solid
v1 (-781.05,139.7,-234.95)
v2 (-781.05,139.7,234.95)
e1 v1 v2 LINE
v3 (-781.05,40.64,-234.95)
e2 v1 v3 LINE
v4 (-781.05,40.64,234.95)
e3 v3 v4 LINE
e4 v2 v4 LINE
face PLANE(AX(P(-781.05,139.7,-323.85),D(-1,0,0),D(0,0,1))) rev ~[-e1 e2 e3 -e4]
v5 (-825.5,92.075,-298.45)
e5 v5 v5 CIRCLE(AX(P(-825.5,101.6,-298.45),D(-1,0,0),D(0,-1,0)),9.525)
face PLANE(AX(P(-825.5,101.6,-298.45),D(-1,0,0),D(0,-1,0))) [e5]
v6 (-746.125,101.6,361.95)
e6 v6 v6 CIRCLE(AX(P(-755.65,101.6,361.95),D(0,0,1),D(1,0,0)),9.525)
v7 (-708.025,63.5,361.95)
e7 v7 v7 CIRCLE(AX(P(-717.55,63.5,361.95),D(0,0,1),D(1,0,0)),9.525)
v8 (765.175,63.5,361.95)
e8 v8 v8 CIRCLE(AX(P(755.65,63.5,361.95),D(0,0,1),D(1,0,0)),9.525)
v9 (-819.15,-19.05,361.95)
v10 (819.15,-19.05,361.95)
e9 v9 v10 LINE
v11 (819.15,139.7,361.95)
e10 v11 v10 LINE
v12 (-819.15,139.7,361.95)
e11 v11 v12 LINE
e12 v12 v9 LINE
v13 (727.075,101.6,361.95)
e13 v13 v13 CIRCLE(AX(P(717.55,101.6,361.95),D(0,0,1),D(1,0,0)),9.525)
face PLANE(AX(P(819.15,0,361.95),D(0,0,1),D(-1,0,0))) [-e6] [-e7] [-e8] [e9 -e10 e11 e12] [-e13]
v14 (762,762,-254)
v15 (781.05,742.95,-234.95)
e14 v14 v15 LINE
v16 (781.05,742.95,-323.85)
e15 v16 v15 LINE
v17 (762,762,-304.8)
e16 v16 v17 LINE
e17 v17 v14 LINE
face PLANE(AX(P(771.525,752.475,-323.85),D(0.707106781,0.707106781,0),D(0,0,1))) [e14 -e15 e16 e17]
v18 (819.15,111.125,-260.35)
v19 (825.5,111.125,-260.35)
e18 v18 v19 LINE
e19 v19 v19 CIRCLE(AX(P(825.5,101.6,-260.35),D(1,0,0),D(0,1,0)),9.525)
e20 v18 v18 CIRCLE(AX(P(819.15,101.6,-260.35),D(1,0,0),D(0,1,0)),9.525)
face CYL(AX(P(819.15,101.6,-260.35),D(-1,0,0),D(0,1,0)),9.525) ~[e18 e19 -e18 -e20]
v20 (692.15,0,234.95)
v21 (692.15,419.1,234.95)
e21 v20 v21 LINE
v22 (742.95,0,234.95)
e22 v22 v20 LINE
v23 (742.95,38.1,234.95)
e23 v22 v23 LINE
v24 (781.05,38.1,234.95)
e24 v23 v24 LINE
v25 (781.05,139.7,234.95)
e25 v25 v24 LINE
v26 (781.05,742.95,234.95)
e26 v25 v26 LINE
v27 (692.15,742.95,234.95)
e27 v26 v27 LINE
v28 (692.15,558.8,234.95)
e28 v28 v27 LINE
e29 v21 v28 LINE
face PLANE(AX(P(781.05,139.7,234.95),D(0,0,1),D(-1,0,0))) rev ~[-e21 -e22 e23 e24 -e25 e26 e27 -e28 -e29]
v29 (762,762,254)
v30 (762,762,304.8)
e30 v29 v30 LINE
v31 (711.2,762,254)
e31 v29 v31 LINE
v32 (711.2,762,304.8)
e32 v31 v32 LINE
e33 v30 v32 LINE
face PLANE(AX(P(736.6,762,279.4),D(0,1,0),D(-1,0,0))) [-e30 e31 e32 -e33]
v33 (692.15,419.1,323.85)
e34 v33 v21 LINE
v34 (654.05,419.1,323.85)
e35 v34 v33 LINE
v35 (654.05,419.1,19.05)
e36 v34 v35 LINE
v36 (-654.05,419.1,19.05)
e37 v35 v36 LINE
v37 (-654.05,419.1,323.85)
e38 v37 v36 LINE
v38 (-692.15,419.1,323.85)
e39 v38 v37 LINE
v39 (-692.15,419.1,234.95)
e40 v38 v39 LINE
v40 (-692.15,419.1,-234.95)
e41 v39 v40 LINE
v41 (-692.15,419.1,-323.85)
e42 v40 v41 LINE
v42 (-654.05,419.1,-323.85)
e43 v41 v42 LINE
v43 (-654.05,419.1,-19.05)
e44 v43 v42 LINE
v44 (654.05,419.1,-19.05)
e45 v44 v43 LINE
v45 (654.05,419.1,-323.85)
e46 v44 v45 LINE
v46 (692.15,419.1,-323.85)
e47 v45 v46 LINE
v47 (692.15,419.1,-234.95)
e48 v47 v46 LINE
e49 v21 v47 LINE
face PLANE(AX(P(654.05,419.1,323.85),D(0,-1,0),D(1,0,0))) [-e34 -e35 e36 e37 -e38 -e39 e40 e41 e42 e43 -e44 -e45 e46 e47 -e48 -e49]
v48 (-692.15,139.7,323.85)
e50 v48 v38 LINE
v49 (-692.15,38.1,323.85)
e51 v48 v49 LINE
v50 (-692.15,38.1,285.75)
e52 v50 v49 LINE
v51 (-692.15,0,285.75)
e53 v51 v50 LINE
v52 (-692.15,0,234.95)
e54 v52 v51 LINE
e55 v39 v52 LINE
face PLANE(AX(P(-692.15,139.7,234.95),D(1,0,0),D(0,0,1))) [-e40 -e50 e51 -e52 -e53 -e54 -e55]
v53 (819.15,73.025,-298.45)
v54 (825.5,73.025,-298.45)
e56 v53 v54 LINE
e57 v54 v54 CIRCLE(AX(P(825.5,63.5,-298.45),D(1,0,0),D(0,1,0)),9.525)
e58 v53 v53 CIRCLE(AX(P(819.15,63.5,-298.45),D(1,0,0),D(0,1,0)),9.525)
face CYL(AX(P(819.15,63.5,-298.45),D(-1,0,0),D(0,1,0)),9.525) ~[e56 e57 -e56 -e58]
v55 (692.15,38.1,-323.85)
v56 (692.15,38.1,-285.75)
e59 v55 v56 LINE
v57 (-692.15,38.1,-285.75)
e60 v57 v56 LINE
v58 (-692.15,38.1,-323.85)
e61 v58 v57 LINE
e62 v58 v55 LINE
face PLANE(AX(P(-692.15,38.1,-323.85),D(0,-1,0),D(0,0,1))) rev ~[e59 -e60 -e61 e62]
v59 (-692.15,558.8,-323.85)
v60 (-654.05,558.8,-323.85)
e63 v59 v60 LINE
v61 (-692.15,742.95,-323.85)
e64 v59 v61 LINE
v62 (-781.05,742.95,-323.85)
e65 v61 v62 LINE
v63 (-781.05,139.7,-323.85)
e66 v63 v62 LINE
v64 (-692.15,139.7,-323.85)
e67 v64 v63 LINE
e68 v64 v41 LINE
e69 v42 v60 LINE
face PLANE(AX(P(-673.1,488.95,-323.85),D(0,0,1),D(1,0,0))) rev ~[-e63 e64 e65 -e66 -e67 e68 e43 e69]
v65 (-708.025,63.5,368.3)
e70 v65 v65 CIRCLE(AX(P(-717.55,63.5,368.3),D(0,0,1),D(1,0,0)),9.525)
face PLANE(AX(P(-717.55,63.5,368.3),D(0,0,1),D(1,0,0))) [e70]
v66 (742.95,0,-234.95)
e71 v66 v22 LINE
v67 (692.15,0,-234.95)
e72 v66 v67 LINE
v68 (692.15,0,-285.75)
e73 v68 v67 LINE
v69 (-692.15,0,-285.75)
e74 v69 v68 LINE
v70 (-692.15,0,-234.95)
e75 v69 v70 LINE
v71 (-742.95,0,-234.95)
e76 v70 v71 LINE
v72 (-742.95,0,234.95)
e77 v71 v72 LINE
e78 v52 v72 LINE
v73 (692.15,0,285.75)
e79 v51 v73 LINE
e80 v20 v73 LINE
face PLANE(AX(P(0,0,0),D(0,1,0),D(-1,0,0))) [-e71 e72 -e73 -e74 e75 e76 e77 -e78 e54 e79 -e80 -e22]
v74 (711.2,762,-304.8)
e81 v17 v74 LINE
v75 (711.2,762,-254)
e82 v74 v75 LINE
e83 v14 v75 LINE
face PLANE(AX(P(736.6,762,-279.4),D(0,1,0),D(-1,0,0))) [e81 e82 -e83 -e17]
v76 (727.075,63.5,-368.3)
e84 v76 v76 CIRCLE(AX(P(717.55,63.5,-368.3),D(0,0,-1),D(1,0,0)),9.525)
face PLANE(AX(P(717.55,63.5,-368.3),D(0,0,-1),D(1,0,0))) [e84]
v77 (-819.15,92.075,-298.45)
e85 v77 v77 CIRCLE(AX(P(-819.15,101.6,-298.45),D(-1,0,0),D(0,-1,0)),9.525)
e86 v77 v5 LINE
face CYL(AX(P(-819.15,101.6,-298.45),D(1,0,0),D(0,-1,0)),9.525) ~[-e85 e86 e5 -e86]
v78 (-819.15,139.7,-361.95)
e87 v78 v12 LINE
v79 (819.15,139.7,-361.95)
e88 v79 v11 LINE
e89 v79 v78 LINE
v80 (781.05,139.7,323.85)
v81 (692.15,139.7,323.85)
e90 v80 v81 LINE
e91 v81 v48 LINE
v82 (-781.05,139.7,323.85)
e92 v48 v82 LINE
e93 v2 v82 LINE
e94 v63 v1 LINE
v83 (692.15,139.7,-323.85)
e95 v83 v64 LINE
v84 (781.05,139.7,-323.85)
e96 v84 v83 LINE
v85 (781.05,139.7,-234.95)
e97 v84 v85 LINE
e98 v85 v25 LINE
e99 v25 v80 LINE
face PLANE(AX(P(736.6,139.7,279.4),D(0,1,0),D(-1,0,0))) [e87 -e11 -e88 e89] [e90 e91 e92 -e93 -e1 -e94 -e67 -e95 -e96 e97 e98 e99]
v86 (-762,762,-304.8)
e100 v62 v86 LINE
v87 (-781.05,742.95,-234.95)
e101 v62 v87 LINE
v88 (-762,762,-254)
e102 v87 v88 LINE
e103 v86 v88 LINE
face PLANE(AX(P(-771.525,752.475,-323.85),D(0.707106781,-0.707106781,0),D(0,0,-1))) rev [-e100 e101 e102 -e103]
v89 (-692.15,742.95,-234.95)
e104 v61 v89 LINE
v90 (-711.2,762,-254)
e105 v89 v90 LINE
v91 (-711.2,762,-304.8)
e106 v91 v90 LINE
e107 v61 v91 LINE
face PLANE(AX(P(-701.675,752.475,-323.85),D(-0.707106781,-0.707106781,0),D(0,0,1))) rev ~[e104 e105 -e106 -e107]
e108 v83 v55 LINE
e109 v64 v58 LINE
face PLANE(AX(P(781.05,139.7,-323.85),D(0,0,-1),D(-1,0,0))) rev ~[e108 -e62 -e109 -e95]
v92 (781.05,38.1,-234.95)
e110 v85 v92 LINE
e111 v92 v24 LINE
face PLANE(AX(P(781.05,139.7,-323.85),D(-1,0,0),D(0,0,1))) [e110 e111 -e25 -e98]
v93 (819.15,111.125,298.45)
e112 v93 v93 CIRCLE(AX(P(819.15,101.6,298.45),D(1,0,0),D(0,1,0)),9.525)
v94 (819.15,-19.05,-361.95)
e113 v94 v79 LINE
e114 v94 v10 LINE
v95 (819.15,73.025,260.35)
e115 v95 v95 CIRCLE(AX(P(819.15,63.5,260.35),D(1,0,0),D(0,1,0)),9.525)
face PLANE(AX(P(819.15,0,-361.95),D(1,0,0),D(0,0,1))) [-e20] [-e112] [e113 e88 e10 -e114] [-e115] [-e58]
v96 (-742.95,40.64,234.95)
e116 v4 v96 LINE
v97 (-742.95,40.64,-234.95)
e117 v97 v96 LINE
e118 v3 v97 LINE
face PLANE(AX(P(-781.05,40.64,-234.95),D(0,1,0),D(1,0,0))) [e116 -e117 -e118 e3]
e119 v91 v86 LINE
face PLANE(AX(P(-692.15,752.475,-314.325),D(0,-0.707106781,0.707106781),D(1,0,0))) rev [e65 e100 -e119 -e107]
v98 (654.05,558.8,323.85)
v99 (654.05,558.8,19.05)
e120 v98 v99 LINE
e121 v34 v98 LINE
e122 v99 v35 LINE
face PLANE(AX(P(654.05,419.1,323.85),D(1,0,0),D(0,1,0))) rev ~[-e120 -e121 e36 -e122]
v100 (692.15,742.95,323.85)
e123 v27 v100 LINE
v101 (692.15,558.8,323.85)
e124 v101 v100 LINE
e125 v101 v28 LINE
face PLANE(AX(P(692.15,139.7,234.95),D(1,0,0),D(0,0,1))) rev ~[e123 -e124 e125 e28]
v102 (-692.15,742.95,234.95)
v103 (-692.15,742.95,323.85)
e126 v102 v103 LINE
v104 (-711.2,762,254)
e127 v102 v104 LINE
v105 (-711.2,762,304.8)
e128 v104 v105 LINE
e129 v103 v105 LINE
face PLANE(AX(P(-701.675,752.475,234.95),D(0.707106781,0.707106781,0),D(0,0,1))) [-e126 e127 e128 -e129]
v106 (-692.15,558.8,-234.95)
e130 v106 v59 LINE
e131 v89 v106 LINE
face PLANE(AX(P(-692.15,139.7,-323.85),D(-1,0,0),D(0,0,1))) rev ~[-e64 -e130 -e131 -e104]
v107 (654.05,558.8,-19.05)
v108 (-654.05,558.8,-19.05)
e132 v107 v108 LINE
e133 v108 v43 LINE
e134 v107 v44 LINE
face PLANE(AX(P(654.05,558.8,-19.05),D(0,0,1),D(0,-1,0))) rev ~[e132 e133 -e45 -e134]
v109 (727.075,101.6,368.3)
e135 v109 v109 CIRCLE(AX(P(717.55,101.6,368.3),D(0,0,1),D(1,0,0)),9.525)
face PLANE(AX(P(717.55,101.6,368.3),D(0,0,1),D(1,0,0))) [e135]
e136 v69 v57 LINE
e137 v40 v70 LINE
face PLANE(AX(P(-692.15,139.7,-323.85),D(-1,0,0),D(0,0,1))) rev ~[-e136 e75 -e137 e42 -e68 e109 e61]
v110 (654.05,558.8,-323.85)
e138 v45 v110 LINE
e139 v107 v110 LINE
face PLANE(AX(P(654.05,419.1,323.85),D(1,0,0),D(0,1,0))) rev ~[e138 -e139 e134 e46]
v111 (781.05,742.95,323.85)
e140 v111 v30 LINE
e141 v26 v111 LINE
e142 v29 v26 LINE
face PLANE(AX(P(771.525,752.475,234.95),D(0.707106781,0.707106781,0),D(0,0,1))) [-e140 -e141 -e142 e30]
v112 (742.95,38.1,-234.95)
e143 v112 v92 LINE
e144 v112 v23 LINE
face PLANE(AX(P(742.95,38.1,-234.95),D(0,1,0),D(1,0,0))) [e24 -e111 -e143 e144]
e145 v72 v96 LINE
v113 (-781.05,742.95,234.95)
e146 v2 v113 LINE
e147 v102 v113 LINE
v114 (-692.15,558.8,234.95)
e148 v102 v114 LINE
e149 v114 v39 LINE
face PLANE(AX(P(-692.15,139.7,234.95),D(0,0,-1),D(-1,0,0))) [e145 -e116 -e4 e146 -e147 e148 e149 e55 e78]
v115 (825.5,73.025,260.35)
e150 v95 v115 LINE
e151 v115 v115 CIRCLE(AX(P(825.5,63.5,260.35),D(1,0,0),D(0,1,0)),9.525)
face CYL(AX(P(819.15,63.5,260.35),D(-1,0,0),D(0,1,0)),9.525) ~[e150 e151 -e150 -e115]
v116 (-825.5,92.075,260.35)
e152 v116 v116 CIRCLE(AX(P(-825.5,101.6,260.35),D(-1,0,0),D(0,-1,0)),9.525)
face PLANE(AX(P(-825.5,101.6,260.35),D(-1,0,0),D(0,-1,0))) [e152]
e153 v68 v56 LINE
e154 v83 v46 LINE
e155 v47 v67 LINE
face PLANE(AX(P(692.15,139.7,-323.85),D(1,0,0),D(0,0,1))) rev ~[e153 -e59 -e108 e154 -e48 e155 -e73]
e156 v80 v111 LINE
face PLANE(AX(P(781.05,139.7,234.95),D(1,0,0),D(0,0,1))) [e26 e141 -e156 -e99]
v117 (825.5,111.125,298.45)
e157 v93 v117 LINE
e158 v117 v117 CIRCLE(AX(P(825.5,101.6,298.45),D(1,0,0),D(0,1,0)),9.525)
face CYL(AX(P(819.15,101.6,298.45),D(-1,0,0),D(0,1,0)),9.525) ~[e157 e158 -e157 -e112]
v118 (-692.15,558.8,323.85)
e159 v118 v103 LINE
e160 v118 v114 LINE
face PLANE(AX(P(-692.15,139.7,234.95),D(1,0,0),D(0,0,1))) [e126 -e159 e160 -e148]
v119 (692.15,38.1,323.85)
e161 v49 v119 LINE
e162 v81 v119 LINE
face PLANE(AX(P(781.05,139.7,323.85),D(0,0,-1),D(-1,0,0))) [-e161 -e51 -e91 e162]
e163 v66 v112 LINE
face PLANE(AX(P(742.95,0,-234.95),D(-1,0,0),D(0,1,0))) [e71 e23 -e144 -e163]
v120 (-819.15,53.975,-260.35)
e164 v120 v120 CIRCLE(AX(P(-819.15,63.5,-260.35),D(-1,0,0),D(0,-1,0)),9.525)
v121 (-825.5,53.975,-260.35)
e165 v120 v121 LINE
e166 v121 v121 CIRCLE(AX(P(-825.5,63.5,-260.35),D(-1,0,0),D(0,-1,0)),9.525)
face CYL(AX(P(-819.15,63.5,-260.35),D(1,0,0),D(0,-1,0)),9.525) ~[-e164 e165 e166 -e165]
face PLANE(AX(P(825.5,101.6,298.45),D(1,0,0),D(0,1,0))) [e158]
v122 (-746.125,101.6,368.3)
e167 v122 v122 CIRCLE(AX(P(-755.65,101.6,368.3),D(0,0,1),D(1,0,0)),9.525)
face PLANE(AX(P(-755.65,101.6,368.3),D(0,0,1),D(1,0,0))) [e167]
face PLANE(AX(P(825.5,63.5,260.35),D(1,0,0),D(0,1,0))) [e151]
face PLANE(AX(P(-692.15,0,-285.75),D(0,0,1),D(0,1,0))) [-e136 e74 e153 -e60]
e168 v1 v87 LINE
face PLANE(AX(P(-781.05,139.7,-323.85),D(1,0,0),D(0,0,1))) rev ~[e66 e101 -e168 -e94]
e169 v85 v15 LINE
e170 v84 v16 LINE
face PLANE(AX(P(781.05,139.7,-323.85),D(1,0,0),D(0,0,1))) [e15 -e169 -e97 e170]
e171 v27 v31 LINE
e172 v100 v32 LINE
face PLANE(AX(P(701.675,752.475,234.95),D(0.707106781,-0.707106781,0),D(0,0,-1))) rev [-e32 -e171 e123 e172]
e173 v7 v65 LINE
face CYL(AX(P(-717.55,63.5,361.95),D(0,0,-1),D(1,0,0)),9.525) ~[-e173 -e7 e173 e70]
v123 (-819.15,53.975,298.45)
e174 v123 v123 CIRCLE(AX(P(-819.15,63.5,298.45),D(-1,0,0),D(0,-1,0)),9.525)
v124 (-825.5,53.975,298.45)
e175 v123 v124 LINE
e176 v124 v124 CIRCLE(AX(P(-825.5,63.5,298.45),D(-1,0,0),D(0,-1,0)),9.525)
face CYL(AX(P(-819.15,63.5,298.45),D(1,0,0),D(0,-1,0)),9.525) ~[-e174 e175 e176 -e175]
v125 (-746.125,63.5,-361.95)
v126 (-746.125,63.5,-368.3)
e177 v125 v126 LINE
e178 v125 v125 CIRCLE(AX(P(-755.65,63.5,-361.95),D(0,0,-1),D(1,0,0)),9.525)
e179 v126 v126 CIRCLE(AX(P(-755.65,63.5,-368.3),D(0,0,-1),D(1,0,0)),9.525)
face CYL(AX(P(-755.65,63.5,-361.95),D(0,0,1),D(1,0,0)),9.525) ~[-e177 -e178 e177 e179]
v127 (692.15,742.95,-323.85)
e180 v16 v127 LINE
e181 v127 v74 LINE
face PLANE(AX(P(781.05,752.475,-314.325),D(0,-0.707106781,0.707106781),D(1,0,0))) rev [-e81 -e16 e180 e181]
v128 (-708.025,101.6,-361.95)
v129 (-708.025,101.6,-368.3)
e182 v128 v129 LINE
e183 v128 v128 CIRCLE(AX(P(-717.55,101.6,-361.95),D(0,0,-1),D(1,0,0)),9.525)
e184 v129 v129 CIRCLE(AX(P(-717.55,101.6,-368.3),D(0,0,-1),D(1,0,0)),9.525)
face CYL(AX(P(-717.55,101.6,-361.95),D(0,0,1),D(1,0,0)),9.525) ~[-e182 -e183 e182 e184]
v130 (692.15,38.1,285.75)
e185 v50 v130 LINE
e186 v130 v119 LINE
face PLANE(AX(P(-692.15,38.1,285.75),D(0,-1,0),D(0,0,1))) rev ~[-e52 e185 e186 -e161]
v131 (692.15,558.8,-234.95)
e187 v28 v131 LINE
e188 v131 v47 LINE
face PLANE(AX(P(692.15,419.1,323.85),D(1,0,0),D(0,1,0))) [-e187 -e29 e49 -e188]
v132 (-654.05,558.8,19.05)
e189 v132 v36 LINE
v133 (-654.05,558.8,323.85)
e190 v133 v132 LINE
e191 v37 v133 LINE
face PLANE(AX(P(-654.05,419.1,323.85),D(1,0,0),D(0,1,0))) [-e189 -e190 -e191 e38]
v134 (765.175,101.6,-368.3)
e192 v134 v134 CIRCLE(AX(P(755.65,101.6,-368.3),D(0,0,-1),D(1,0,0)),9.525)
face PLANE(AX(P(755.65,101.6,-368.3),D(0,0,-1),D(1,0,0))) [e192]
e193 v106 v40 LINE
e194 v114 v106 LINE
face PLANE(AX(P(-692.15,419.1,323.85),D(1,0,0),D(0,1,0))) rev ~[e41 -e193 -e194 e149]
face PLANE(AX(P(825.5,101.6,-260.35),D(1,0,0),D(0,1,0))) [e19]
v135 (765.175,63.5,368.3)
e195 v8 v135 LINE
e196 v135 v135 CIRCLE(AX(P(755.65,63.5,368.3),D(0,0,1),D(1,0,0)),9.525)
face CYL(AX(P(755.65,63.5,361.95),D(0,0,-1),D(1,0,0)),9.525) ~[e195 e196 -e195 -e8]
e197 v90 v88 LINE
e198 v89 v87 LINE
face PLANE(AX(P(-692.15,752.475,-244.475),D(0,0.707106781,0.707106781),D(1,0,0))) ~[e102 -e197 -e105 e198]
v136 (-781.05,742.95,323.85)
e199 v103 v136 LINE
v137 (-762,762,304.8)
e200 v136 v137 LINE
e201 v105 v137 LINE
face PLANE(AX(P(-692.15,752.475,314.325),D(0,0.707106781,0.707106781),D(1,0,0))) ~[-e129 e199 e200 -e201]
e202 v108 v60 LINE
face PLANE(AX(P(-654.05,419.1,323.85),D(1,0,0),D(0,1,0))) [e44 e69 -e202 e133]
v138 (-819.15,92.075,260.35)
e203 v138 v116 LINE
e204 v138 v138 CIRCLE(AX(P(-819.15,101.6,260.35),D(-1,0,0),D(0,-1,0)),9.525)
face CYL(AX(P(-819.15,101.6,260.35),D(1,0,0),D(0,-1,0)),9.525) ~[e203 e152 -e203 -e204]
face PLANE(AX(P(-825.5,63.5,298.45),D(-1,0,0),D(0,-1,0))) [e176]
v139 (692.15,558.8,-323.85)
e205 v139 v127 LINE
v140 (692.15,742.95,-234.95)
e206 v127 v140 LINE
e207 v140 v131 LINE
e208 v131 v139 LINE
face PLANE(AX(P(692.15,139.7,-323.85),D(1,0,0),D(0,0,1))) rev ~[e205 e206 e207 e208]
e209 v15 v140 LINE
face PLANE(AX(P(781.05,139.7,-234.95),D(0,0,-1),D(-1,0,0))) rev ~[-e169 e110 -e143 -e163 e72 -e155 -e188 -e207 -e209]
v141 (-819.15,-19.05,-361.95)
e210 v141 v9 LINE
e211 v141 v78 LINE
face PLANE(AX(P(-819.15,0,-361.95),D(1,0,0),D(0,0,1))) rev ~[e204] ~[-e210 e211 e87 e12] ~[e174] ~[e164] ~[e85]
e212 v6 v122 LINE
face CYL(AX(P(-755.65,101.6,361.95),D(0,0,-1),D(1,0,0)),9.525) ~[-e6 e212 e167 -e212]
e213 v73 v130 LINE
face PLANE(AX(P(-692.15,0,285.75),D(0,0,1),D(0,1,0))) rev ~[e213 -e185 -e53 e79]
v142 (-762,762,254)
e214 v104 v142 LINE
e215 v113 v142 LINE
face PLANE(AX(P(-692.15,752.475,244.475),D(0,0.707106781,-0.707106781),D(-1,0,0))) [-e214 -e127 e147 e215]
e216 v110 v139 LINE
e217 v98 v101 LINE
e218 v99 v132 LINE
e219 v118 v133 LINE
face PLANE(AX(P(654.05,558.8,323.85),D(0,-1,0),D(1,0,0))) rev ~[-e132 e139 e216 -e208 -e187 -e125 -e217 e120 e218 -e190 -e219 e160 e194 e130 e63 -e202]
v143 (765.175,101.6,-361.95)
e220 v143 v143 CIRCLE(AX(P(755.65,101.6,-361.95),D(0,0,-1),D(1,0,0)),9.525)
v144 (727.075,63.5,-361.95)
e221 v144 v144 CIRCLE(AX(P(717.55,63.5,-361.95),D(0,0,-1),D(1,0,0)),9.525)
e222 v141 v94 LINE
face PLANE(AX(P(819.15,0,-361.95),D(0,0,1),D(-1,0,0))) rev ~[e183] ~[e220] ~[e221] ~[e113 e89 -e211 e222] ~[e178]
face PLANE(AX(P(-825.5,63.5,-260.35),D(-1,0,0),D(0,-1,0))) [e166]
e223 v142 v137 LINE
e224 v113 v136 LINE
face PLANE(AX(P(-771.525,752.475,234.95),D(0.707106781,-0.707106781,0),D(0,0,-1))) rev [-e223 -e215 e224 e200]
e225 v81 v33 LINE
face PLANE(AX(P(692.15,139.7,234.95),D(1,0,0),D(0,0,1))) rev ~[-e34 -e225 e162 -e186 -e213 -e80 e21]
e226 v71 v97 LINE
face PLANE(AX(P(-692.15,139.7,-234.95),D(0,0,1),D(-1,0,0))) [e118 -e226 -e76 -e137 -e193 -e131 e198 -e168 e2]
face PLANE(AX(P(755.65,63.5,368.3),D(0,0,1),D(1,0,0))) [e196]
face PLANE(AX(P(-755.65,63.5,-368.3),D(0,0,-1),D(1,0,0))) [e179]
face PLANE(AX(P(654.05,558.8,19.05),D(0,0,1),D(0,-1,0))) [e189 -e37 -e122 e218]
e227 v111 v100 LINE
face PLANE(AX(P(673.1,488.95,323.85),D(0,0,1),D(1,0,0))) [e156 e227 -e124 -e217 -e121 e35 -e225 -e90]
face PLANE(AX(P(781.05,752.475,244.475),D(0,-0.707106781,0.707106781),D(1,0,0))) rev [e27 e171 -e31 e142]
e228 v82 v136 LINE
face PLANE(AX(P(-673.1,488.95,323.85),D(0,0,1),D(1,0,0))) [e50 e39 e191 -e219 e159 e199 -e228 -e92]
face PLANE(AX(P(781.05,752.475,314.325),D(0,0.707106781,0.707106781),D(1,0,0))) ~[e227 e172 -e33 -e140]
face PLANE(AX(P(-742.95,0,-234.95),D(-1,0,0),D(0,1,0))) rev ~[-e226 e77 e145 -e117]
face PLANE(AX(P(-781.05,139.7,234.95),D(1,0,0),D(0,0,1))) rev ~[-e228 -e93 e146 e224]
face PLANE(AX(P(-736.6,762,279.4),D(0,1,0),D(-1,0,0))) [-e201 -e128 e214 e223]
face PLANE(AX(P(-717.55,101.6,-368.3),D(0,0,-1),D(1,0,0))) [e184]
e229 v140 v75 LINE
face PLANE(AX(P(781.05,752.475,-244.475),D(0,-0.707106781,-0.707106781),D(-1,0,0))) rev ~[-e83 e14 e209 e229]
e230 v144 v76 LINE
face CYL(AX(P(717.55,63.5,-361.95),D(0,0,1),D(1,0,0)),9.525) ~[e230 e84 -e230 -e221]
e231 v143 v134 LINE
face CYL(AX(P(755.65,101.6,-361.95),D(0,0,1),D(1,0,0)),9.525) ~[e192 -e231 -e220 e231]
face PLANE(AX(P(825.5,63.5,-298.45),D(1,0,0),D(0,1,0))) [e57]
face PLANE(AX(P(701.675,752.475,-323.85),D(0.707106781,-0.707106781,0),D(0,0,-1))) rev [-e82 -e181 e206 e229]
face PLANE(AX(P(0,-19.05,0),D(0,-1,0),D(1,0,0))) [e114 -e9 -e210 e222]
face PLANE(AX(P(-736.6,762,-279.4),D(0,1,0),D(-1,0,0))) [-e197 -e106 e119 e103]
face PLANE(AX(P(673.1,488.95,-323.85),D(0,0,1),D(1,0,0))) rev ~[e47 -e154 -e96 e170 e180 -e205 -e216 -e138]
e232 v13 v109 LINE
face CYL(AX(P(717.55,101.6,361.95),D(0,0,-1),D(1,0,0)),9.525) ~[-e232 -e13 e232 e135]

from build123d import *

# Parameters (mm, degrees)
F0_W           = 1638.3
F0_H           = 723.9
F1_DEPTH       = 19.05
F2_W           = 1638.3
F2_H           = 723.9
F3_DEPTH       = 139.7
F5_W           = 1562.1
F5_H           = 647.7
F6_DEPTH       = 139.7
F4_W           = 88.9
F4_H           = 88.9
F7_DEPTH       = 139.7
F7_DEPTH_BACK  = 622.3
F8_W           = 38.1
F8_H           = 139.7
F9_DEPTH       = 647.7
F10_W          = 38.1
F10_H          = 139.7
F11_DEPTH      = 647.7
F12_SIZE       = 19.05
F13_R          = 9.525
F14_DEPTH      = 6.35
F14_DEPTH_BACK = 76.2
F15_W          = 139.7
F15_H          = 38.1
F16_DEPTH      = 1308.1
F17_W          = 38.1
F17_H          = 38.1
F18_DEPTH      = 1384.3
F19_W          = 38.1
F19_H          = 38.1
F20_DEPTH      = 469.9
F21_W          = 38.1
F21_H          = 40.64
F22_DEPTH      = 520.7
F23_W          = 38.1
F23_H          = 38.1
F24_DEPTH      = 1384.3
F25_R          = 9.525
F26_DEPTH      = 6.35
F26_DEPTH_BACK = 76.2
F27_R          = 9.525
F28_DEPTH      = 6.35
F28_DEPTH_BACK = 76.2
F29_R          = 9.525
F30_DEPTH      = 6.35
F30_DEPTH_BACK = 76.2
F31_R          = 9.525
F32_DEPTH      = 6.35
F32_DEPTH_BACK = 76.2


with BuildPart() as f1:
    # F0 (on Front) → F1 (new body)
    with BuildSketch(Plane.XZ):
        Rectangle(F0_W, F0_H)
    extrude(amount=F1_DEPTH)

    # F2 (on face) → F3 (join)
    with BuildSketch(Plane(origin=(0, 0, 0), x_dir=(-1, 0, 0), z_dir=(0, 1, 0))):
        Rectangle(F2_W, F2_H)
    extrude(amount=F3_DEPTH)

    # F5 (on face) → F6 (cut)
    with BuildSketch(Plane(origin=(0, 139.7, 0), x_dir=(-1, 0, 0), z_dir=(0, 1, 0))):
        Rectangle(F5_W, F5_H)
    extrude(amount=-F6_DEPTH, mode=Mode.SUBTRACT)

    # F4 (on face) → F7 (join, two sides)
    with BuildSketch(Plane(origin=(0, 139.7, 0), x_dir=(-1, 0, 0), z_dir=(0, 1, 0))) as f7_sk:
        with Locations((-736.6, 279.4)):
            Rectangle(F4_W, F4_H)
        with Locations((736.6, 279.4)):
            Rectangle(F4_W, F4_H)
        with Locations((736.6, -279.4)):
            Rectangle(F4_W, F4_H)
        with Locations((-736.6, -279.4)):
            Rectangle(F4_W, F4_H)
    extrude(amount=-F7_DEPTH)
    extrude(f7_sk.sketch, amount=F7_DEPTH_BACK)

    # F8 (on face) → F9 (join)
    with BuildSketch(Plane.XY.offset(323.85)):
        with Locations((-673.1, 488.95)):
            Rectangle(F8_W, F8_H)
    extrude(amount=-F9_DEPTH)

    # F10 (on face) → F11 (join)
    with BuildSketch(Plane.XY.offset(323.85)):
        with Locations((673.1, 488.95)):
            Rectangle(F10_W, F10_H)
    extrude(amount=-F11_DEPTH)

    # F12
    f12_edges = [f1.edges().sort_by_distance(p)[0] for p in [
        (736.6, 762, -323.85),
        (781.05, 762, -279.4),
        (736.6, 762, -234.95),
        (692.15, 762, -279.4),
        (736.6, 762, 323.85),
        (692.15, 762, 279.4),
        (781.05, 762, 279.4),
        (736.6, 762, 234.95),
        (-736.6, 762, 323.85),
        (-736.6, 762, 234.95),
        (-692.15, 762, 279.4),
        (-781.05, 762, 279.4),
        (-736.6, 762, -234.95),
        (-781.05, 762, -279.4),
        (-736.6, 762, -323.85),
        (-692.15, 762, -279.4),
    ]]
    chamfer(f12_edges, length=F12_SIZE)

    # F13 (on face) → F14 (join, two sides)
    with BuildSketch(Plane.XY.offset(361.95)) as f14_sk:
        with Locations((-755.65, 101.6)):
            Circle(F13_R)
        with Locations((-717.55, 63.5)):
            Circle(F13_R)
    extrude(amount=F14_DEPTH)
    extrude(f14_sk.sketch, amount=-F14_DEPTH_BACK)

    # F15 (on face) → F16 (join)
    with BuildSketch(Plane(origin=(654.05, 0, 0), x_dir=(0, -1, 0), z_dir=(-1, 0, 0))):
        with Locations((-488.95, 0)):
            Rectangle(F15_W, F15_H)
    extrude(amount=F16_DEPTH)

    # F17 (on face) → F18 (join)
    with BuildSketch(Plane.YZ.offset(-692.15)):
        with Locations((19.05, -304.8)):
            Rectangle(F17_W, F17_H)
    extrude(amount=F18_DEPTH)

    # F19 (on face) → F20 (join)
    with BuildSketch(Plane.XY.offset(-234.95)):
        with Locations((762, 19.05)):
            Rectangle(F19_W, F19_H)
    extrude(amount=F20_DEPTH)

    # F21 (on face) → F22 (join)
    with BuildSketch(Plane.XY.offset(-234.95)):
        with Locations((-762, 20.32)):
            Rectangle(F21_W, F21_H)
    extrude(amount=F22_DEPTH)

    # F23 (on face) → F24 (join)
    with BuildSketch(Plane.YZ.offset(-692.15)):
        with Locations((19.05, 304.8)):
            Rectangle(F23_W, F23_H)
    extrude(amount=F24_DEPTH)

    # F25 (on face) → F26 (join, two sides)
    with BuildSketch(Plane.XY.offset(361.95)) as f26_sk:
        with Locations((717.55, 101.6)):
            Circle(F25_R)
        with Locations((755.65, 63.5)):
            Circle(F25_R)
    extrude(amount=F26_DEPTH)
    extrude(f26_sk.sketch, amount=-F26_DEPTH_BACK)

    # F27 (on face) → F28 (join, two sides)
    with BuildSketch(Plane(origin=(-819.15, 0, 0), x_dir=(0, -1, 0), z_dir=(-1, 0, 0))) as f28_sk:
        with Locations((-101.6, 260.35)):
            Circle(F27_R)
        with Locations((-63.5, 298.45)):
            Circle(F27_R)
        with Locations((-101.6, -298.45)):
            Circle(F27_R)
        with Locations((-63.5, -260.35)):
            Circle(F27_R)
    extrude(amount=F28_DEPTH)
    extrude(f28_sk.sketch, amount=-F28_DEPTH_BACK)

    # F29 (on face) → F30 (join, two sides)
    with BuildSketch(Plane.YZ.offset(819.15)) as f30_sk:
        with Locations((101.6, 298.45)):
            Circle(F29_R)
        with Locations((101.6, -260.35)):
            Circle(F29_R)
        with Locations((63.5, 260.35)):
            Circle(F29_R)
        with Locations((63.5, -298.45)):
            Circle(F29_R)
    extrude(amount=F30_DEPTH)
    extrude(f30_sk.sketch, amount=-F30_DEPTH_BACK)

    # F31 (on face) → F32 (join, two sides)
    with BuildSketch(Plane(origin=(0, 0, -361.95), x_dir=(1, 0, 0), z_dir=(0, 0, -1))) as f32_sk:
        with Locations((-755.65, -63.5)):
            Circle(F31_R)
        with Locations((-717.55, -101.6)):
            Circle(F31_R)
        with Locations((717.55, -63.5)):
            Circle(F31_R)
        with Locations((755.65, -101.6)):
            Circle(F31_R)
    extrude(amount=F32_DEPTH)
    extrude(f32_sk.sketch, amount=-F32_DEPTH_BACK)


solid = f1.part
